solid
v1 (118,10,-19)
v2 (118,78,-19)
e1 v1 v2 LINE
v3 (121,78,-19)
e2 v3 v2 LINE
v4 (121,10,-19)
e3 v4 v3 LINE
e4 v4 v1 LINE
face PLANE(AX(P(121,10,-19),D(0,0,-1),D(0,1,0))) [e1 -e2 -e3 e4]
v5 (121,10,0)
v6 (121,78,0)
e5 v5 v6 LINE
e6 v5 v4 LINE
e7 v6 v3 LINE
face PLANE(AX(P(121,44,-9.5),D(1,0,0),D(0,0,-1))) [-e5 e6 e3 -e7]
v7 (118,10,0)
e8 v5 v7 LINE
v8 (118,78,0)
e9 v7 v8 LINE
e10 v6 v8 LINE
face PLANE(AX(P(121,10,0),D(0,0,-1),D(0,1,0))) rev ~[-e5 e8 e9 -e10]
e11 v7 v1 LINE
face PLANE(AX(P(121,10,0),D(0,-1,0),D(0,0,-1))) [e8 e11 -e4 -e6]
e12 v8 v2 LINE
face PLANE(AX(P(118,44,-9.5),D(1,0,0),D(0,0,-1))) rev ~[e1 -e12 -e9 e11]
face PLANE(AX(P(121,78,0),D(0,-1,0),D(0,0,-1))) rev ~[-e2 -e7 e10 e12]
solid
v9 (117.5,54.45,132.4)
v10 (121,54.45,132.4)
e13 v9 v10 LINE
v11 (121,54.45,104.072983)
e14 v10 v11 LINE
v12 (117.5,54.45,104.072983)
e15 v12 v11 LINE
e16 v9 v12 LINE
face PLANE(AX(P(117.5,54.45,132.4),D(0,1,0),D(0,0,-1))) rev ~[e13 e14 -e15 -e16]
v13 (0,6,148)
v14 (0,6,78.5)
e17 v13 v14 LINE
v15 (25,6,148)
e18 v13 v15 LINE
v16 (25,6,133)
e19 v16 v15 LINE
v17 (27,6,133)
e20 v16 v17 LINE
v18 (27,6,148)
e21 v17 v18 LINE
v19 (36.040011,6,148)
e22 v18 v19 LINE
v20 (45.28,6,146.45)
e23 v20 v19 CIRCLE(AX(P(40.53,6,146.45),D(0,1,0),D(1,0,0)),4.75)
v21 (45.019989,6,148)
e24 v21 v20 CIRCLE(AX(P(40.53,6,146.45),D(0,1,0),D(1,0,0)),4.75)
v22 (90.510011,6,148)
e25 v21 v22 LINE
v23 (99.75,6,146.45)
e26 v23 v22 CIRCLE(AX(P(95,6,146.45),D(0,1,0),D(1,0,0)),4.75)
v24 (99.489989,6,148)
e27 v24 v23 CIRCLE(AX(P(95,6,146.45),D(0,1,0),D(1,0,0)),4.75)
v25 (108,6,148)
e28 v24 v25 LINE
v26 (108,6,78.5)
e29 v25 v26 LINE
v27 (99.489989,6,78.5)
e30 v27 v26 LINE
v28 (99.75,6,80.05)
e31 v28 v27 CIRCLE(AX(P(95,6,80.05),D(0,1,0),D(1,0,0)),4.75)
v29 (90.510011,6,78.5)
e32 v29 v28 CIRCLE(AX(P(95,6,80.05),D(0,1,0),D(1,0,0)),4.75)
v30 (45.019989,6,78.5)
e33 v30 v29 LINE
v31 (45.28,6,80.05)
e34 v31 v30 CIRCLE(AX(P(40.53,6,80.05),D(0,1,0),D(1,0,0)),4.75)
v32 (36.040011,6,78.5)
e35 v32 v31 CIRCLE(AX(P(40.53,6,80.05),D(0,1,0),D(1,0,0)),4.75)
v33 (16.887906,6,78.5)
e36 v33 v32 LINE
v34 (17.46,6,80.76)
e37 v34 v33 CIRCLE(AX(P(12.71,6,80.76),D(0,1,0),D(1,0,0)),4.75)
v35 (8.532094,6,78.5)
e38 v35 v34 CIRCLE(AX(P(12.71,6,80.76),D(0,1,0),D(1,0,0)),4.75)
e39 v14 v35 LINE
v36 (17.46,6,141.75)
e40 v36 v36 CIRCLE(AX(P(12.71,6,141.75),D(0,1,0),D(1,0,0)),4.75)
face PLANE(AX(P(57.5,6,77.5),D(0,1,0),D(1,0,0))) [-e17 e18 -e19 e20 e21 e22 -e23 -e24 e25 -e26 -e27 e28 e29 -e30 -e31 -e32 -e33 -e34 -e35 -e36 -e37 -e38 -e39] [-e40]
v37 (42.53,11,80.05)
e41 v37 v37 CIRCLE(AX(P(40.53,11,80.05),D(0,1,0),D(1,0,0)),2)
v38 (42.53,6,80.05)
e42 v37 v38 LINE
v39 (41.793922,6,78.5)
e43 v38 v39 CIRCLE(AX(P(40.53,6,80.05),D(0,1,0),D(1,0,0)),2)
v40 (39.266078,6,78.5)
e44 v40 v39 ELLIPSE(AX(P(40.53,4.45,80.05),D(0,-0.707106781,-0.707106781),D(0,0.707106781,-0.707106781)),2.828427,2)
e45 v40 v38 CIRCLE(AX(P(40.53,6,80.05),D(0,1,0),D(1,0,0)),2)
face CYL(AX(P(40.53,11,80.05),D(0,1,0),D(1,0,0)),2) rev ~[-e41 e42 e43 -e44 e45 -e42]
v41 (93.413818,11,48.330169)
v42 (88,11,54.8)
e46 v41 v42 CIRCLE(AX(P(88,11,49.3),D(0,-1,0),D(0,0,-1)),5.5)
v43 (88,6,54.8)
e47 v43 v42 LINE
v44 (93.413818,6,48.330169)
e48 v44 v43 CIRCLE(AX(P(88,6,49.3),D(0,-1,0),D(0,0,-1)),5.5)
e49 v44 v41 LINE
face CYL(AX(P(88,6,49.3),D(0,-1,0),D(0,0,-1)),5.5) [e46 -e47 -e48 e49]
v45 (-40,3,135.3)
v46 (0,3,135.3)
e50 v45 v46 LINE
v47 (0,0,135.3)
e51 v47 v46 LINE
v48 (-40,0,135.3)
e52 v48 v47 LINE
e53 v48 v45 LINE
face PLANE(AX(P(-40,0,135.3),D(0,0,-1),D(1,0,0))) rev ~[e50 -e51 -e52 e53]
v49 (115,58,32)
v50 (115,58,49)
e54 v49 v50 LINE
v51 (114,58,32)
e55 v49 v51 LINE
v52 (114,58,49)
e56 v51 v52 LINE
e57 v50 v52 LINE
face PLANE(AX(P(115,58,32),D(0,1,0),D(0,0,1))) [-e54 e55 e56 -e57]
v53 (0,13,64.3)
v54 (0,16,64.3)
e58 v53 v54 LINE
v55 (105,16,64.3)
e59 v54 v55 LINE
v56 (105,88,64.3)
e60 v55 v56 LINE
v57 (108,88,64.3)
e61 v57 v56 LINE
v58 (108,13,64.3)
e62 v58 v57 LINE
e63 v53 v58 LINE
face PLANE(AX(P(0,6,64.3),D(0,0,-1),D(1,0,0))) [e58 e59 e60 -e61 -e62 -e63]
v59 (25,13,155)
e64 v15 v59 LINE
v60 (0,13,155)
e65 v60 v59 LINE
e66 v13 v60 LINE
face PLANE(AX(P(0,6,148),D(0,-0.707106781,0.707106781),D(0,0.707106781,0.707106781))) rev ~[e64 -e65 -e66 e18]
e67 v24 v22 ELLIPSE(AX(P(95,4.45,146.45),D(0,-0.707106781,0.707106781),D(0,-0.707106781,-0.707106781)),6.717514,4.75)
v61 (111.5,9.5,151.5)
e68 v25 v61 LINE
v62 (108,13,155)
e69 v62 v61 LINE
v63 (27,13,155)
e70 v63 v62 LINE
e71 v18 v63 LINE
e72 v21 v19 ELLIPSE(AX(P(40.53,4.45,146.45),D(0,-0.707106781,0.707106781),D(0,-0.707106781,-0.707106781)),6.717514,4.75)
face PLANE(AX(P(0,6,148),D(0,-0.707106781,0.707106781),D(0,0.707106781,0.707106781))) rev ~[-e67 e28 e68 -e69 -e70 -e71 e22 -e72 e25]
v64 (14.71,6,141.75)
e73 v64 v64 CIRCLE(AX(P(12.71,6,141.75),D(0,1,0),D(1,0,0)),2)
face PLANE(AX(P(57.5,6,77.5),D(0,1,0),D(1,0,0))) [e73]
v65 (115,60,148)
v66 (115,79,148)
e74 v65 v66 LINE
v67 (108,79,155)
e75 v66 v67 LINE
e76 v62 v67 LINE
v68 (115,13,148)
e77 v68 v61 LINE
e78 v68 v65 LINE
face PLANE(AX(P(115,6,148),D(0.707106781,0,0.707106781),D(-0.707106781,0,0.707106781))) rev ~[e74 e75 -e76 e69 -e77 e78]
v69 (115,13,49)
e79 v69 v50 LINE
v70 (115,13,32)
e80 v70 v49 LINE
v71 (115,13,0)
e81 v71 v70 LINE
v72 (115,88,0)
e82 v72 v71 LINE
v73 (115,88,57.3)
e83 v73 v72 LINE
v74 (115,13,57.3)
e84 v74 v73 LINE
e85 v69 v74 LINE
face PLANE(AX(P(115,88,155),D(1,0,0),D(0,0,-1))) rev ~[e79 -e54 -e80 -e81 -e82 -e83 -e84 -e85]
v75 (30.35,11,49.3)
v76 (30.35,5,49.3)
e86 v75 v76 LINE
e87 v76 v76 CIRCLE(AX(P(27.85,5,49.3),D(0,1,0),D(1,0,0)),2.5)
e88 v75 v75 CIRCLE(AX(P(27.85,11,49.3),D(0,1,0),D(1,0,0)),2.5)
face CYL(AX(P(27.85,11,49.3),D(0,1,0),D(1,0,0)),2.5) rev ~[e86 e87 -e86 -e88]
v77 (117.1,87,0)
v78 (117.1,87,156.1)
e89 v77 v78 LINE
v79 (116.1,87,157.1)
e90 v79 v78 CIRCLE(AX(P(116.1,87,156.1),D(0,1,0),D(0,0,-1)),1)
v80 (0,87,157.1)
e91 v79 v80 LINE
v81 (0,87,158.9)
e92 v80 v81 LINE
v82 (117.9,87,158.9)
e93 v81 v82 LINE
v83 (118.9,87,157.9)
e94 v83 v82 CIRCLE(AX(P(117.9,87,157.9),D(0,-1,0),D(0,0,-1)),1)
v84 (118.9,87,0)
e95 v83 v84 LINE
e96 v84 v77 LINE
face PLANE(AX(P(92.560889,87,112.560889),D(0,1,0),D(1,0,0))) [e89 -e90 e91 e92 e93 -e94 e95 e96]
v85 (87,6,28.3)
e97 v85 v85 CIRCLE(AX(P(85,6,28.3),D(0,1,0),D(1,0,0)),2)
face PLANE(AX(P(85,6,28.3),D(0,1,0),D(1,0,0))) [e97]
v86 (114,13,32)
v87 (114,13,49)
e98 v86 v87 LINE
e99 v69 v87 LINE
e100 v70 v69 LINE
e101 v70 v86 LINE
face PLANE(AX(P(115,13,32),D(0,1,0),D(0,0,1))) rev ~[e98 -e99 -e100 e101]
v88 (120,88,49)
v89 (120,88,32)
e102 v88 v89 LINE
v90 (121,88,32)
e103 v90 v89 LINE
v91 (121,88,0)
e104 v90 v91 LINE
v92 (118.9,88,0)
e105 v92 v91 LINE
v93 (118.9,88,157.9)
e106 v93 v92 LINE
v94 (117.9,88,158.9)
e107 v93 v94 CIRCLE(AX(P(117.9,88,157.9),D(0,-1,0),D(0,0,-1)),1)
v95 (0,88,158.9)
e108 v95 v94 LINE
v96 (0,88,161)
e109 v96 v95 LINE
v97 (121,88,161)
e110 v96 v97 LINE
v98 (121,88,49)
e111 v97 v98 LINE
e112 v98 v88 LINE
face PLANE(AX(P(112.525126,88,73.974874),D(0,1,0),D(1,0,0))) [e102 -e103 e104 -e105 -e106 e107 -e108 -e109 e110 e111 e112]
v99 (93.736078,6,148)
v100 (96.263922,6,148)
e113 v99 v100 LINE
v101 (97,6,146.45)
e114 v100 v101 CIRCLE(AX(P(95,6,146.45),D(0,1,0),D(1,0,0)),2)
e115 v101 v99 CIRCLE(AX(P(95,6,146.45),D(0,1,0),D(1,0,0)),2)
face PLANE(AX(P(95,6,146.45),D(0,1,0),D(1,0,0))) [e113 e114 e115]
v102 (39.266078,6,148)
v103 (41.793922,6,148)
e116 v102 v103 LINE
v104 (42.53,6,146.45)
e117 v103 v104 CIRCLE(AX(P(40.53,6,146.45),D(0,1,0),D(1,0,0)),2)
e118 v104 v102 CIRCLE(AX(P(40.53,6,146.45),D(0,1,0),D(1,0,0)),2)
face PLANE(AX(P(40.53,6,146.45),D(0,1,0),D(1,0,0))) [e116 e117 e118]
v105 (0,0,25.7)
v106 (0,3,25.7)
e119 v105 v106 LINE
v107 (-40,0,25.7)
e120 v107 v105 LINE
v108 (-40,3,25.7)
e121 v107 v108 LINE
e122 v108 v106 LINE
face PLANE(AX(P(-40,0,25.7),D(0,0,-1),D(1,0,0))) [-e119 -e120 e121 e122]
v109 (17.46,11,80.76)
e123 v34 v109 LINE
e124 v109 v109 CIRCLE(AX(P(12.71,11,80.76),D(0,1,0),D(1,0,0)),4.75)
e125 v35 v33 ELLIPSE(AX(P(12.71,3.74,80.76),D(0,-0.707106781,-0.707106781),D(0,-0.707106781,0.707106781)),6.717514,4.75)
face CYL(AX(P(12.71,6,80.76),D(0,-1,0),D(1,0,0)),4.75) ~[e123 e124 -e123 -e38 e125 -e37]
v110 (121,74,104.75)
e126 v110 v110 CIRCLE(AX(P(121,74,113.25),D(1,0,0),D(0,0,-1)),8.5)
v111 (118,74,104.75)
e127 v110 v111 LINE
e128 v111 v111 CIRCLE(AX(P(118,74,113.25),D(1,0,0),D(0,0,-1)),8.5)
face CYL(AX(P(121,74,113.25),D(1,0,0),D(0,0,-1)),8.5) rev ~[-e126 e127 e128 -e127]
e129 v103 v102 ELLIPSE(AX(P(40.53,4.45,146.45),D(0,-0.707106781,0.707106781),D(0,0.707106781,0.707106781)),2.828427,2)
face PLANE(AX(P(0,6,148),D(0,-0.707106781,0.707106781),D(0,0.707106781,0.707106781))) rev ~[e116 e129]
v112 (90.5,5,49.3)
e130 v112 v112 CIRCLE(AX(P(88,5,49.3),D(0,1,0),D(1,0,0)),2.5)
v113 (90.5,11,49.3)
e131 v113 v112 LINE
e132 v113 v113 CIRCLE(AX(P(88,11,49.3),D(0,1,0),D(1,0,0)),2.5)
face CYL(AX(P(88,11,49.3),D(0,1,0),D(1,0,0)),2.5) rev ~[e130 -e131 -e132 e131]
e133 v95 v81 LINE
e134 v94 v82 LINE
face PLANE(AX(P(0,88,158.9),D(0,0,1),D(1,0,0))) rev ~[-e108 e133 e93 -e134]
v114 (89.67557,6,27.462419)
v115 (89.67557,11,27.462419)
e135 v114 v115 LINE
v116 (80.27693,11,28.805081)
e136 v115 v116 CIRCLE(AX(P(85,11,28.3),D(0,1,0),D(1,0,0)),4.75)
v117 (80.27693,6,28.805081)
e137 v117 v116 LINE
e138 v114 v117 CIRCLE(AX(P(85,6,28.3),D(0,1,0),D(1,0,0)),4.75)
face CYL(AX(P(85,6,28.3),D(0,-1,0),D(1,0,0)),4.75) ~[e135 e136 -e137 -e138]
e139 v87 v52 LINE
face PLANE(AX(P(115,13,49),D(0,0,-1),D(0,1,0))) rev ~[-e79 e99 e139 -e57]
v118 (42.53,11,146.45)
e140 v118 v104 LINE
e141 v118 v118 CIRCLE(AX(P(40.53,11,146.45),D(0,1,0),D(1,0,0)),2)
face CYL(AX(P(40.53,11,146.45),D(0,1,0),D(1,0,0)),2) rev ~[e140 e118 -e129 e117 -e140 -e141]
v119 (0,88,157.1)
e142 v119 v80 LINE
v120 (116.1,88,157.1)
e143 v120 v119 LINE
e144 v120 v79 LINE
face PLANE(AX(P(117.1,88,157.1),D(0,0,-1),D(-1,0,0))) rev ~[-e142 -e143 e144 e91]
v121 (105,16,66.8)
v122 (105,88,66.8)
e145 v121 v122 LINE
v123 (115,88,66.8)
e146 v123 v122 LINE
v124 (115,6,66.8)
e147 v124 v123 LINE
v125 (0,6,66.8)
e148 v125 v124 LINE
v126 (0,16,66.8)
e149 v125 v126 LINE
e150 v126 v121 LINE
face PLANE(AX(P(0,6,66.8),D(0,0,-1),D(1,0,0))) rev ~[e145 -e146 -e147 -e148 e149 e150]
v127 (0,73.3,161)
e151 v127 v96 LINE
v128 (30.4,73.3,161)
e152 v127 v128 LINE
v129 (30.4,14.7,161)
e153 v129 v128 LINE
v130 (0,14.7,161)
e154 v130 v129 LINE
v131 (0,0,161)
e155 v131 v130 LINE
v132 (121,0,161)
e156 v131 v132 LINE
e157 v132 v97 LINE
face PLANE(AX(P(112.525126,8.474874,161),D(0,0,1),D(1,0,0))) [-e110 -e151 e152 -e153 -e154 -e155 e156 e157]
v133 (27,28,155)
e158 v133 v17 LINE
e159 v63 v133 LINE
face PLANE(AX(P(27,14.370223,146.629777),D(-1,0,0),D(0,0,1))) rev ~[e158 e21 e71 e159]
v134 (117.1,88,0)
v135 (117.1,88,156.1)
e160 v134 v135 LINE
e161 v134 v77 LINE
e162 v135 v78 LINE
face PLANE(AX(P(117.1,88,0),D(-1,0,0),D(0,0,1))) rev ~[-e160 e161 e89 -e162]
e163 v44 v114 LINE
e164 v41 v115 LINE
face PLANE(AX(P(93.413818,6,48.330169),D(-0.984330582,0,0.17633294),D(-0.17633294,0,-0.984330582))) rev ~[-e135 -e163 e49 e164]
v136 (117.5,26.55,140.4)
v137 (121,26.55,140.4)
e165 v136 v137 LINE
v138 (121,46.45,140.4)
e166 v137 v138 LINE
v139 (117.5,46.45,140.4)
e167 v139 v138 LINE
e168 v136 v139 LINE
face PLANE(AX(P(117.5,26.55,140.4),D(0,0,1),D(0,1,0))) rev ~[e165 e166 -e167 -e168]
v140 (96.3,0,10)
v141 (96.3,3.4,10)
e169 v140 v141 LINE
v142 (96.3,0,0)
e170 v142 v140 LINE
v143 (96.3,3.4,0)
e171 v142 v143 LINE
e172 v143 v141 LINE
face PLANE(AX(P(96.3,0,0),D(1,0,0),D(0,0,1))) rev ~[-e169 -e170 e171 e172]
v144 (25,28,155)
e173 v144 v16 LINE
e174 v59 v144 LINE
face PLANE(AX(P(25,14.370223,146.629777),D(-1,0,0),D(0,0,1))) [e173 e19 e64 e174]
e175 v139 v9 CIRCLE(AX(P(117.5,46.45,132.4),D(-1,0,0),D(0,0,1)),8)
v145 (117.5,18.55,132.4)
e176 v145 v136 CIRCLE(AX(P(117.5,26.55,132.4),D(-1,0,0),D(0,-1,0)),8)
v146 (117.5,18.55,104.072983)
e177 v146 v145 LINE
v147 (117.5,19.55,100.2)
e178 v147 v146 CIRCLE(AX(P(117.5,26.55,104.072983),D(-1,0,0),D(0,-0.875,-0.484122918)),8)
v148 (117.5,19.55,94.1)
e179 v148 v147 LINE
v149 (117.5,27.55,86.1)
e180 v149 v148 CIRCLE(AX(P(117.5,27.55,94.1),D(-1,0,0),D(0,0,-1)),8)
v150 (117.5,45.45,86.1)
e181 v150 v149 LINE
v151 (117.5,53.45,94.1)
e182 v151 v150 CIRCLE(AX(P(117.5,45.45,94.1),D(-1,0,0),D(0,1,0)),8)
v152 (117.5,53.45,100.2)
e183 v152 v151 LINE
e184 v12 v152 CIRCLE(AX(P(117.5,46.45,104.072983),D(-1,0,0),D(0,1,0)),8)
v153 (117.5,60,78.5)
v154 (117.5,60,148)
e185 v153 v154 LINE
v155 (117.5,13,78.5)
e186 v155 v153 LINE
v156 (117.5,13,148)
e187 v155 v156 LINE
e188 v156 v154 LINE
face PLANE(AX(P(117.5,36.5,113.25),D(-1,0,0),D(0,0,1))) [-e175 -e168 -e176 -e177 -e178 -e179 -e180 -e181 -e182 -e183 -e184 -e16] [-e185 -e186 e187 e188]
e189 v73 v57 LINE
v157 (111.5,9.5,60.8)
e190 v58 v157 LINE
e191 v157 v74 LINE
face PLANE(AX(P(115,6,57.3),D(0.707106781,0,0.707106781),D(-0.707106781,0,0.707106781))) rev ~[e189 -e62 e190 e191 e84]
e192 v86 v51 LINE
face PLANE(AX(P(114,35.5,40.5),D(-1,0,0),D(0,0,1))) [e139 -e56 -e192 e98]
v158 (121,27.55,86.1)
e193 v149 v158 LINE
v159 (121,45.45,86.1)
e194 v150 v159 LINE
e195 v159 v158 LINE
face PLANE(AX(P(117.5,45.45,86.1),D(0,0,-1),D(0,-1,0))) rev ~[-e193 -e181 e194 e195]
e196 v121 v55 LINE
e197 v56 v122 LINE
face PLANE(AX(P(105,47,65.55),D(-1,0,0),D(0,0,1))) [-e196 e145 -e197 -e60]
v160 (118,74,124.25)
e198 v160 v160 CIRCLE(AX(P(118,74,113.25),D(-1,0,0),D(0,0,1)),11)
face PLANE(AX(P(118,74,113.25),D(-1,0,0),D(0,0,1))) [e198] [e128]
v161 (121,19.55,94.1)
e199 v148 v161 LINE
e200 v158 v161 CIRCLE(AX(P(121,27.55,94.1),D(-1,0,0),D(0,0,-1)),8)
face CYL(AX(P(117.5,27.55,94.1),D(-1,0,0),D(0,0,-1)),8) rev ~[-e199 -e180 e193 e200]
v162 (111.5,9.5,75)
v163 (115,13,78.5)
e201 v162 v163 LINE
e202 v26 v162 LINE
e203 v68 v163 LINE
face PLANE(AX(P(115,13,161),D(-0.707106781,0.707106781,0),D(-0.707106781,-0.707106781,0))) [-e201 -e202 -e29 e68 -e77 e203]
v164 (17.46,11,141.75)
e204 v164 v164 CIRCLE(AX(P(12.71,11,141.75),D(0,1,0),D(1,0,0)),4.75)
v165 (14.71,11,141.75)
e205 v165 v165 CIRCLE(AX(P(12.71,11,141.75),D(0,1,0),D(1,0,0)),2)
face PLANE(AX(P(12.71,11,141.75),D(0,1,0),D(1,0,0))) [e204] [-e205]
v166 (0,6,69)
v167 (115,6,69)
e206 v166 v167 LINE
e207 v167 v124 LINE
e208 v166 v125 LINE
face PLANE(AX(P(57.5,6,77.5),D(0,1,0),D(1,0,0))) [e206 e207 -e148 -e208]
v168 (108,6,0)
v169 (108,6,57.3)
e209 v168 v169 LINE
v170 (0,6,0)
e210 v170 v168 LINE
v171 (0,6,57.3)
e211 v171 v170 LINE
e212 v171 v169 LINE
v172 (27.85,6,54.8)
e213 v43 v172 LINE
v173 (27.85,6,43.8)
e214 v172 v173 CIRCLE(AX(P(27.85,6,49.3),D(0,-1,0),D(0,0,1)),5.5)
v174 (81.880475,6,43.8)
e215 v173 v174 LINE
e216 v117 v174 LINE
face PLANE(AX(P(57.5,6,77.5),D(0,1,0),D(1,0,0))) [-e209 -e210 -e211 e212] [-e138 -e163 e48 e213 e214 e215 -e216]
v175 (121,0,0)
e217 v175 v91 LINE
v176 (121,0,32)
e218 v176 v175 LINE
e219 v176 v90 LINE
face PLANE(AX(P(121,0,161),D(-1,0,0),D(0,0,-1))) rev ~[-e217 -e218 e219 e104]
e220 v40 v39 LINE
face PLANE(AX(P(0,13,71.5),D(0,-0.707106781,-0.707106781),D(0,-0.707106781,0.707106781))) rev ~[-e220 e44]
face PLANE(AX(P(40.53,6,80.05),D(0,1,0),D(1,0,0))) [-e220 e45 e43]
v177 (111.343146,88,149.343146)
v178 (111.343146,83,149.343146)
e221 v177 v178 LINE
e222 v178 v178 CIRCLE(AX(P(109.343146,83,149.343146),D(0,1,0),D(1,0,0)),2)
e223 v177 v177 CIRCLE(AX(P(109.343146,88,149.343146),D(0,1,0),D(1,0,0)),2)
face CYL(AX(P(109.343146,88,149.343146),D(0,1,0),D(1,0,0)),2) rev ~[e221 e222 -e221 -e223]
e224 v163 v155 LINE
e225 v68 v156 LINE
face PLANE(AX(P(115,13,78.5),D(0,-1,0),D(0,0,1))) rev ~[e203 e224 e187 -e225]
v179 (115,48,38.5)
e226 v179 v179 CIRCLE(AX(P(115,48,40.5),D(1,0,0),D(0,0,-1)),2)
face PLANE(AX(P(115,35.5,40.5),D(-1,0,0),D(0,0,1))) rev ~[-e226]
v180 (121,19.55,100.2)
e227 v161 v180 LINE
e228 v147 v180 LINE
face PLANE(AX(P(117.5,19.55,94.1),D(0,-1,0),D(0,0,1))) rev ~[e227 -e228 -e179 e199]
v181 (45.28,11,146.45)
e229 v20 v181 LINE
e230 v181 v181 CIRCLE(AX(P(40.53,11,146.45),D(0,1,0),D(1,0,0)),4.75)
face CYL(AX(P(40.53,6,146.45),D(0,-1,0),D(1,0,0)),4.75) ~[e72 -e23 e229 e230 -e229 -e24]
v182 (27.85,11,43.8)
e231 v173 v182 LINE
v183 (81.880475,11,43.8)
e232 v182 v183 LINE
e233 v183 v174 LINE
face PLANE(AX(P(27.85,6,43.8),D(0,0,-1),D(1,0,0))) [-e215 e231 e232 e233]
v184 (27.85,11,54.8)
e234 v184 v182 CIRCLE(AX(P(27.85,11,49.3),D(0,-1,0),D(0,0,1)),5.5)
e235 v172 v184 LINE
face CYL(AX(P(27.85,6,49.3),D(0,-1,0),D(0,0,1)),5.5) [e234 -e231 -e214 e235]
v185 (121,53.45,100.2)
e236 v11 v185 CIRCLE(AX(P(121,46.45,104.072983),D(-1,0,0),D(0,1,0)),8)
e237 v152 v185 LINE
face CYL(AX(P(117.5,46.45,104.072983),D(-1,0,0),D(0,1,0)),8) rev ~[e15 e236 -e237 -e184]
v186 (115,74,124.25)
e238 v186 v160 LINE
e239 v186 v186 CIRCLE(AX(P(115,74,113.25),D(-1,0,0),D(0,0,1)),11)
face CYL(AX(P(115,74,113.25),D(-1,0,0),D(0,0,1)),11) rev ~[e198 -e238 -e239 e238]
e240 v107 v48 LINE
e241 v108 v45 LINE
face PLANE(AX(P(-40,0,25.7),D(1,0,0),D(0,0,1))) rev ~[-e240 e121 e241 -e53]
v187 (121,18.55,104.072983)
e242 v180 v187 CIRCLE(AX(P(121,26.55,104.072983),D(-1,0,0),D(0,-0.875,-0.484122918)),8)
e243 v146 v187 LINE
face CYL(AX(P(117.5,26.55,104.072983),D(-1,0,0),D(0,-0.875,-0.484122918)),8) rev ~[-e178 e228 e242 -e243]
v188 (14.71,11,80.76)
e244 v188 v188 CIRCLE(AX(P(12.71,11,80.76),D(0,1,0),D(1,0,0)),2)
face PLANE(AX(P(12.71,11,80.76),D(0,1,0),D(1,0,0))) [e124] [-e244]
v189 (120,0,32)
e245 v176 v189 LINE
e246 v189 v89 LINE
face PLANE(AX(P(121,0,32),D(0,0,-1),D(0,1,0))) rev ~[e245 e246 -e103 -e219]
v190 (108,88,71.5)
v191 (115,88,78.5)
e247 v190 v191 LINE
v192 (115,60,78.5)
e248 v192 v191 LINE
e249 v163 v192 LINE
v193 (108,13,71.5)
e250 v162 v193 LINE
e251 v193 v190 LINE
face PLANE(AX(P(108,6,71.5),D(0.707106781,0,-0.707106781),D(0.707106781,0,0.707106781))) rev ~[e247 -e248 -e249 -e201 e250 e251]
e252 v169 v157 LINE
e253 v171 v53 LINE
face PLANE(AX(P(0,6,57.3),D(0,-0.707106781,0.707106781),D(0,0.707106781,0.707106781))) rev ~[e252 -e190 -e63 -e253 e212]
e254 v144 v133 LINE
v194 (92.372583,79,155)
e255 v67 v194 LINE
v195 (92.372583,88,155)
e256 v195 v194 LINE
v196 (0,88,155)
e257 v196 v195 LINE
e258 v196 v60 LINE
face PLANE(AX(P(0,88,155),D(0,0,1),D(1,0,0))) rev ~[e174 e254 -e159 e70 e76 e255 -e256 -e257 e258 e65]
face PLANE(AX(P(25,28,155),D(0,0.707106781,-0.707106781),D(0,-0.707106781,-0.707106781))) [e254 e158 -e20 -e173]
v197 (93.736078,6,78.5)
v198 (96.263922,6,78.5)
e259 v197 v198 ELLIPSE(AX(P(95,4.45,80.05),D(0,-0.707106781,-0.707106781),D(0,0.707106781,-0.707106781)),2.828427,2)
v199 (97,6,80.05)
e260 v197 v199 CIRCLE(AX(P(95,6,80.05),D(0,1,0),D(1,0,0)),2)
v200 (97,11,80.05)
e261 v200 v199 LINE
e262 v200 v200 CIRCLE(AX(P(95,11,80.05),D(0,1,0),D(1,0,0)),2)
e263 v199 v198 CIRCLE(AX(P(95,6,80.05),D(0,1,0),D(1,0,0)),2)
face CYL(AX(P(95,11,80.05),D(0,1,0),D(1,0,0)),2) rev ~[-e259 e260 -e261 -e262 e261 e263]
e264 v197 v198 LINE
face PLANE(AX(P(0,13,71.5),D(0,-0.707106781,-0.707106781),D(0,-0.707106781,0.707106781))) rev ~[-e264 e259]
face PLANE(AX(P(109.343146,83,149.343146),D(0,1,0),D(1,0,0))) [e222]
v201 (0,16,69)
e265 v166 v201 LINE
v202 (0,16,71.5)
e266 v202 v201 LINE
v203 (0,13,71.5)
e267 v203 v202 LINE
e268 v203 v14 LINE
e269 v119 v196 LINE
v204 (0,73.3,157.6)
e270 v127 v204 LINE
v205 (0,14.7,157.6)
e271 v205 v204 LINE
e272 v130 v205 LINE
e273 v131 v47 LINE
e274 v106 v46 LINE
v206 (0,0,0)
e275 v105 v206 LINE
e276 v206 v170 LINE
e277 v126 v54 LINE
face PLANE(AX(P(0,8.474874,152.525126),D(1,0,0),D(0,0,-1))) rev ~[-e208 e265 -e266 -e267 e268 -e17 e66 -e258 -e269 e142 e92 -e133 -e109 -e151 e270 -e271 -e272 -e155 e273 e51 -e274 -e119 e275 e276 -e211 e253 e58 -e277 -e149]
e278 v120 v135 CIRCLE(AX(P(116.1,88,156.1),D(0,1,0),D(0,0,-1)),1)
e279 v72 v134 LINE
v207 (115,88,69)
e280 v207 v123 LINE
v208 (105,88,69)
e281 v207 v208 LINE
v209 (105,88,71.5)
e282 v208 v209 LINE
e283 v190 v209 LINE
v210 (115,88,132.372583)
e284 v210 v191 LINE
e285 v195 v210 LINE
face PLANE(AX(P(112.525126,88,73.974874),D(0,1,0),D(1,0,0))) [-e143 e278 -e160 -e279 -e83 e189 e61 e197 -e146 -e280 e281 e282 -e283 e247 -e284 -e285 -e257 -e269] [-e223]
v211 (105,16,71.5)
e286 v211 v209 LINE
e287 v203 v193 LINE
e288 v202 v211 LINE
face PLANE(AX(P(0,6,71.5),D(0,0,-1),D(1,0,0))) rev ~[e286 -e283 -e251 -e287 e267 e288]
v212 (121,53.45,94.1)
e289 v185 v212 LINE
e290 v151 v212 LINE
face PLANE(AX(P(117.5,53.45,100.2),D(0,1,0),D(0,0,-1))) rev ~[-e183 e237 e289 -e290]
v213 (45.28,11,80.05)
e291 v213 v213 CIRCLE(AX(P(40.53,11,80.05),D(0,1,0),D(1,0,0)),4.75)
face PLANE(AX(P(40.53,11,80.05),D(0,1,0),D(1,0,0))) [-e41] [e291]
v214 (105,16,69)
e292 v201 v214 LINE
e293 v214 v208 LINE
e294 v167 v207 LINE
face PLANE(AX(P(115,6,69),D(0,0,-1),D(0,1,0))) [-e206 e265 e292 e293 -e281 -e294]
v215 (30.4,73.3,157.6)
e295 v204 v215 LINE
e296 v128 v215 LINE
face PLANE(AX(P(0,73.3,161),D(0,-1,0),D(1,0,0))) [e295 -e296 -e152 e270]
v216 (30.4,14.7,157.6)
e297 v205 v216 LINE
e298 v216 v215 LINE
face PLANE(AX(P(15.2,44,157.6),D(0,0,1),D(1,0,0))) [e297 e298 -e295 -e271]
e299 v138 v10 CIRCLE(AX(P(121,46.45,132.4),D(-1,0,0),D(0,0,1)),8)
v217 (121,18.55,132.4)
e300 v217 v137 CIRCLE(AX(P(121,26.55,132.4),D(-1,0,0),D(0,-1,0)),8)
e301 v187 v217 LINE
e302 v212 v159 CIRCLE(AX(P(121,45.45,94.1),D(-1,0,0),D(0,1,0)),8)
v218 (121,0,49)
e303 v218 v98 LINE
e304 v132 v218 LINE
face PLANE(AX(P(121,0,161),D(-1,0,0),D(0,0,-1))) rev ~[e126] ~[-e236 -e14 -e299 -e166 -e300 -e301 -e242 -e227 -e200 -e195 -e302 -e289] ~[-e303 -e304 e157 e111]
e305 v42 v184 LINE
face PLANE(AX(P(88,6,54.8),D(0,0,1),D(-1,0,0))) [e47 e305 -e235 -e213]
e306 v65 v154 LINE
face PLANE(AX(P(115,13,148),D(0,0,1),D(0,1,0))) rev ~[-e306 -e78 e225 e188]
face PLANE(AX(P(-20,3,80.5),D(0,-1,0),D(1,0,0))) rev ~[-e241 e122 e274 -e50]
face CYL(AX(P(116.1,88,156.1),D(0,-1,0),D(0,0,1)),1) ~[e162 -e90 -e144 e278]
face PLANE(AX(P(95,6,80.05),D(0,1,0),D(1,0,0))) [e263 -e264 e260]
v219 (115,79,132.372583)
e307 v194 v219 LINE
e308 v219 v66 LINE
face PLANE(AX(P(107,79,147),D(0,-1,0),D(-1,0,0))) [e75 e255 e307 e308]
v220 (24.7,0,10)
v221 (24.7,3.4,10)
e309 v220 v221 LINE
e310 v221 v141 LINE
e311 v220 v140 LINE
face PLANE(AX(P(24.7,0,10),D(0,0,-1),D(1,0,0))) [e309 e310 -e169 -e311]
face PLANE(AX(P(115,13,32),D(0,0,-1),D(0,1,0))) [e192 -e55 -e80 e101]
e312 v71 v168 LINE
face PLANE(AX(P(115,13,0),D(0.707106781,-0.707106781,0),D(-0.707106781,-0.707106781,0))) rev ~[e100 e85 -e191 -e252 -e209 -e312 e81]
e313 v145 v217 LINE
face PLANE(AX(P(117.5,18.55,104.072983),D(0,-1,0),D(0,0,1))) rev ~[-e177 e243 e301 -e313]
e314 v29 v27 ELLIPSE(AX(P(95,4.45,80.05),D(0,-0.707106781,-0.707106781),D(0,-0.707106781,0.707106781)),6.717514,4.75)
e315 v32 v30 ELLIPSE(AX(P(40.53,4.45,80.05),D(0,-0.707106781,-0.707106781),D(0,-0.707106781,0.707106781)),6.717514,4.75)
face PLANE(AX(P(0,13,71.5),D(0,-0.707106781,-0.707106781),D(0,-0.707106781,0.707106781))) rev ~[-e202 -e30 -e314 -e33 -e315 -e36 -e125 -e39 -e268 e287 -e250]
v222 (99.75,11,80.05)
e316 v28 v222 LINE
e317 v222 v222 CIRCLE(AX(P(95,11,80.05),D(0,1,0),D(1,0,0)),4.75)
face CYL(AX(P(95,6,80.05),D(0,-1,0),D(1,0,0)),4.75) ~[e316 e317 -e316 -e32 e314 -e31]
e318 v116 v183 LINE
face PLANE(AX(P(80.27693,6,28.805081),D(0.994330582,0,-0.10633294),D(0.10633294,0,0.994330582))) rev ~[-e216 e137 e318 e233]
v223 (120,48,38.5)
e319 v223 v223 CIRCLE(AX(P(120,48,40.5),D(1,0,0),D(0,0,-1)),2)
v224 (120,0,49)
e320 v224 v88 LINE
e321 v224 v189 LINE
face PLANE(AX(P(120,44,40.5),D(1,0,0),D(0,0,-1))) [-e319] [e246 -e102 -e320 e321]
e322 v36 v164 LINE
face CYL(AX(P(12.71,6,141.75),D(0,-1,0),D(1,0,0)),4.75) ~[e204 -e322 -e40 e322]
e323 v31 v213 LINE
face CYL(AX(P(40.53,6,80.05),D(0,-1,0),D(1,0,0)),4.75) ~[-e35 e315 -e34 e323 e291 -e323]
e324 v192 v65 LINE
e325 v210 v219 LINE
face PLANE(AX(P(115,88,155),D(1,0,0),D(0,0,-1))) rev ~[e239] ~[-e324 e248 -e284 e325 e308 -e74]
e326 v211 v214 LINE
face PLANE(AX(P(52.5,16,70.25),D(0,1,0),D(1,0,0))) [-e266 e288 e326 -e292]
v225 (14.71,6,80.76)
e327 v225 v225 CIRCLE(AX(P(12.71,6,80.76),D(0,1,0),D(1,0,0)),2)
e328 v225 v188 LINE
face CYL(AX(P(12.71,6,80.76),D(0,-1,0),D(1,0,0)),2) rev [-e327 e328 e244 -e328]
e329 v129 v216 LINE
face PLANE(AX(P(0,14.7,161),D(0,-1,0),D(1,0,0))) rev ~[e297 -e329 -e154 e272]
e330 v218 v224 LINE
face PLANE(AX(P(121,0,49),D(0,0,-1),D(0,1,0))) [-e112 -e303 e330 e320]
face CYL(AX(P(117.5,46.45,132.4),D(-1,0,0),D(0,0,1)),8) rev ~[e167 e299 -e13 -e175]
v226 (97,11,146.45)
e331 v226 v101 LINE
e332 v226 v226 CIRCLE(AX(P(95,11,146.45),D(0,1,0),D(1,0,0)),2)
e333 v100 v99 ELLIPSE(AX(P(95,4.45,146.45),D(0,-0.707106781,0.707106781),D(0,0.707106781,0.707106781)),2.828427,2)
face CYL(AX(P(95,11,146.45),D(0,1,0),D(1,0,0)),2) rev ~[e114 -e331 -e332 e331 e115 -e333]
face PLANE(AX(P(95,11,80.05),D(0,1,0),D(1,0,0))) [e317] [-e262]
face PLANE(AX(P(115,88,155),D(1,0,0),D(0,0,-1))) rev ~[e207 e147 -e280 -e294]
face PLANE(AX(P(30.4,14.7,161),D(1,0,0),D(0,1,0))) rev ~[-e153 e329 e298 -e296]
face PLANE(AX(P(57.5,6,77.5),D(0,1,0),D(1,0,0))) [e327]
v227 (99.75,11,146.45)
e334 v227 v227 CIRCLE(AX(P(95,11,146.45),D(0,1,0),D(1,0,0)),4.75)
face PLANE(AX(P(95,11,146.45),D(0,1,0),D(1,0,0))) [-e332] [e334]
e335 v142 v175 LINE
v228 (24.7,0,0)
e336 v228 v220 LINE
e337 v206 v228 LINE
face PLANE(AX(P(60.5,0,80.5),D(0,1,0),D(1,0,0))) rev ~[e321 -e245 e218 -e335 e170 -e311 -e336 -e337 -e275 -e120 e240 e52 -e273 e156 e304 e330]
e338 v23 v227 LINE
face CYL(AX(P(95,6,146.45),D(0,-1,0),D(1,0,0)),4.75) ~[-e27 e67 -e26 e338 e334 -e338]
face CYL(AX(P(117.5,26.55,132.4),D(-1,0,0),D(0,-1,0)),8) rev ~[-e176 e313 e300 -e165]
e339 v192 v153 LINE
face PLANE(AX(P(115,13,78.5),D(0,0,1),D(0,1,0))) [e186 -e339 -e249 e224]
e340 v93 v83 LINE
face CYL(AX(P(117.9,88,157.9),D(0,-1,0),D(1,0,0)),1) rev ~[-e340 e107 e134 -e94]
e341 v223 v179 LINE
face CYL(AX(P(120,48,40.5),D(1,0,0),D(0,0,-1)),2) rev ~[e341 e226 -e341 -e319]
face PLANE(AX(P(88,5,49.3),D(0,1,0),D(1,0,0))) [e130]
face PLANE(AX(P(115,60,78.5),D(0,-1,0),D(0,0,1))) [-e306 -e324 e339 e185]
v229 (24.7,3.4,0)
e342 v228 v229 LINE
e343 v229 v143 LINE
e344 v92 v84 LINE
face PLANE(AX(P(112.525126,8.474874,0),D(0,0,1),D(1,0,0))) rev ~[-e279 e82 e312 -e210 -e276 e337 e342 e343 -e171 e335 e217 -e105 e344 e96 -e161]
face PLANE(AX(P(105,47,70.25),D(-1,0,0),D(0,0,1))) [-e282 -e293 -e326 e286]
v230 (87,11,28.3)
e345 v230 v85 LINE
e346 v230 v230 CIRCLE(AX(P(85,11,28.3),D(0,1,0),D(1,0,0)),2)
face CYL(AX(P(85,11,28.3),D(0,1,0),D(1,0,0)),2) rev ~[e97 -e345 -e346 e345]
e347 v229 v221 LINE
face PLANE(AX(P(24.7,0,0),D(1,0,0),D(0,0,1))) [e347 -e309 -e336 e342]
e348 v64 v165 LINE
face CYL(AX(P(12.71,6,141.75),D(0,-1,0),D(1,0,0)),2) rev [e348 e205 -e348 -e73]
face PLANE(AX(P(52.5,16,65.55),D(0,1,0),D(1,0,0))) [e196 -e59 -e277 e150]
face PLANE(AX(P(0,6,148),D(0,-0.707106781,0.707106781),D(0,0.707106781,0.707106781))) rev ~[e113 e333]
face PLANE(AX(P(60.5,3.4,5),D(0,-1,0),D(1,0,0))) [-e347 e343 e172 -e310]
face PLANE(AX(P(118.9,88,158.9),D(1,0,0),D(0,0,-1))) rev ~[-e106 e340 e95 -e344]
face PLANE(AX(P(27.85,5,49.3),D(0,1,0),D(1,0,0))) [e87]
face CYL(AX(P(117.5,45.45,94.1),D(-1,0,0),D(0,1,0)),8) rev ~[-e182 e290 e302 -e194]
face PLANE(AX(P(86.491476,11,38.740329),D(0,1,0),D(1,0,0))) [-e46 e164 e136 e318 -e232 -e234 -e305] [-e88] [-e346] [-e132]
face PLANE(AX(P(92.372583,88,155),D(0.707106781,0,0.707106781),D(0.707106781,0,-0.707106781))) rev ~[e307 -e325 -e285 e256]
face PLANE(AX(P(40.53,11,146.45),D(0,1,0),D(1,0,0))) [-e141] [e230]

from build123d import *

# Parameters (mm, degrees)
SKETCH1_W            = 121
SKETCH1_H            = 161
BOSS_EXTRUDE1_DEPTH  = 88
SKETCH2_W            = 115
SKETCH2_H            = 155
CUT_EXTRUDE1_DEPTH   = 82
SKETCH3_W            = 71.6
SKETCH3_H            = 10
CUT_EXTRUDE2_DEPTH   = 3.4
SKETCH5_W            = 40
SKETCH5_H            = 109.6
BOSS_EXTRUDE2_DEPTH  = 3
SKETCH6_W            = 30.4
SKETCH6_H            = 58.6
CUT_EXTRUDE3_DEPTH   = 3.4
SKETCH7_W            = 19
SKETCH7_H            = 68
BOSS_EXTRUDE3_DEPTH  = 3
SKETCH8_R            = 8.5
CUT_EXTRUDE4_DEPTH   = 162
SKETCH9_W            = 2.5
SKETCH9_H            = 82
BOSS_EXTRUDE4_DEPTH  = 10
SKETCH10_W           = 105
SKETCH10_H           = 2.5
BOSS_EXTRUDE5_DEPTH  = 10
BOSS_EXTRUDE6_DEPTH  = 9
SKETCH12_R           = 2
CUT_EXTRUDE6_DEPTH   = 5
BOSS_EXTRUDE7_DEPTH  = 73
SKETCH14_R           = 4.75
BOSS_EXTRUDE8_DEPTH  = 5
SKETCH15_R           = 2
CUT_EXTRUDE7_DEPTH   = 5
SKETCH16_R           = 4.75
BOSS_EXTRUDE9_DEPTH  = 5
SKETCH17_R           = 2
CUT_EXTRUDE8_DEPTH   = 5
SKETCH18_R           = 2.5
CUT_EXTRUDE9_DEPTH   = 6
BOSS_EXTRUDE10_DEPTH = 82
SKETCH20_R           = 4.75
SKETCH20_R_2         = 2
BOSS_EXTRUDE11_DEPTH = 5
BOSS_EXTRUDE12_REACH = 123
BOSS_EXTRUDE13_REACH = 123
BOSS_EXTRUDE14_REACH = 163
BOSS_EXTRUDE15_REACH = 182
BOSS_EXTRUDE16_REACH = 123
BOSS_EXTRUDE17_DEPTH = 5
CUT_EXTRUDE10_DEPTH  = 1
SKETCH29_R           = 11
CUT_EXTRUDE11_DEPTH  = 3
SKETCH31_W           = 69.5
SKETCH31_H           = 47
CUT_EXTRUDE12_DEPTH  = 2.5
CUT_EXTRUDE13_DEPTH  = 3.5
SKETCH33_W           = 17
SKETCH33_H           = 88
CUT_EXTRUDE14_DEPTH  = 1
BOSS_EXTRUDE19_DEPTH = 2
FILLET1_R            = 1
FILLET2_R            = 1
SKETCH35_R           = 2
CUT_EXTRUDE15_DEPTH  = 5
SKETCH36_W           = 17
SKETCH36_H           = 45
BOSS_EXTRUDE20_DEPTH = 1


with BuildPart() as part:
    # Sketch1 → Boss-Extrude1 (new body)
    with BuildSketch(Plane(origin=(0, 0, 0), x_dir=(1, 0, 0), z_dir=(0, 1, 0))):
        with Locations((60.5, -80.5)):
            Rectangle(SKETCH1_W, SKETCH1_H)
    extrude(amount=BOSS_EXTRUDE1_DEPTH)

    # Sketch2 → Cut-Extrude1 (cut)
    with BuildSketch(Plane(origin=(0, 88, 0), x_dir=(1, 0, 0), z_dir=(0, 1, 0))):
        with Locations((57.5, -77.5)):
            Rectangle(SKETCH2_W, SKETCH2_H)
    extrude(amount=-CUT_EXTRUDE1_DEPTH, mode=Mode.SUBTRACT)

    # Sketch3 → Cut-Extrude2 (cut)
    with BuildSketch(Plane.XZ):
        with Locations((60.5, 5)):
            Rectangle(SKETCH3_W, SKETCH3_H)
    extrude(amount=-CUT_EXTRUDE2_DEPTH, mode=Mode.SUBTRACT)

    # Sketch5 → Boss-Extrude2 (add)
    with BuildSketch(Plane.XZ):
        with Locations((-20, 80.5)):
            Rectangle(SKETCH5_W, SKETCH5_H)
    extrude(amount=-BOSS_EXTRUDE2_DEPTH)

    # Sketch6 → Cut-Extrude3 (cut)
    with BuildSketch(Plane.XY.offset(161)):
        with Locations((15.2, 44)):
            Rectangle(SKETCH6_W, SKETCH6_H)
    extrude(amount=-CUT_EXTRUDE3_DEPTH, mode=Mode.SUBTRACT)

    # Sketch8 → Cut-Extrude4 (cut, through all)
    with BuildSketch(Plane(origin=(121, 0, 0), x_dir=(0, 0, -1), z_dir=(1, 0, 0))):
        with Locations((-113.25, 74)):
            Circle(SKETCH8_R)
    extrude(amount=-CUT_EXTRUDE4_DEPTH, mode=Mode.SUBTRACT)

    # Sketch9 → Boss-Extrude4 (add)
    with BuildSketch(Plane.ZY.offset(-115)):
        with Locations((70.25, 47)):
            Rectangle(SKETCH9_W, SKETCH9_H)
        with Locations((65.55, 47)):
            Rectangle(SKETCH9_W, SKETCH9_H)
    extrude(amount=BOSS_EXTRUDE4_DEPTH)

    # Sketch10 → Boss-Extrude5 (add)
    with BuildSketch(Plane(origin=(0, 6, 0), x_dir=(1, 0, 0), z_dir=(0, 1, 0))):
        with Locations((52.5, -65.55)):
            Rectangle(SKETCH10_W, SKETCH10_H)
        with Locations((52.5, -70.25)):
            Rectangle(SKETCH10_W, SKETCH10_H)
    extrude(amount=BOSS_EXTRUDE5_DEPTH)

    # Sketch11 → Boss-Extrude6 (add)
    with BuildSketch(Plane(origin=(0, 88, 0), x_dir=(1, 0, 0), z_dir=(0, 1, 0))):
        Polygon((115, -155), (92.372583002, -155), (115, -132.372583002), align=None)
    extrude(amount=-BOSS_EXTRUDE6_DEPTH)

    # Sketch12 → Cut-Extrude6 (cut)
    with BuildSketch(Plane(origin=(0, 88, 0), x_dir=(1, 0, 0), z_dir=(0, 1, 0))):
        with Locations((109.343145751, -149.343145751)):
            Circle(SKETCH12_R)
    extrude(amount=-CUT_EXTRUDE6_DEPTH, mode=Mode.SUBTRACT)

    # Sketch13 → Boss-Extrude7 (add)
    with BuildSketch(Plane(origin=(0, 6, 0), x_dir=(1, 0, 0), z_dir=(0, 1, 0))):
        Polygon((115, -155), (115, -148), (108, -155), align=None)
    extrude(amount=BOSS_EXTRUDE7_DEPTH)

    # Sketch14 → Boss-Extrude8 (add)
    with BuildSketch(Plane(origin=(0, 6, 0), x_dir=(1, 0, 0), z_dir=(0, 1, 0))):
        with Locations((40.53, -80.05)):
            Circle(SKETCH14_R)
        with Locations((95, -80.05)):
            Circle(SKETCH14_R)
        with Locations((40.53, -146.45)):
            Circle(SKETCH14_R)
        with Locations((95, -146.45)):
            Circle(SKETCH14_R)
    extrude(amount=BOSS_EXTRUDE8_DEPTH)

    # Sketch15 → Cut-Extrude7 (cut)
    with BuildSketch(Plane(origin=(0, 11, 0), x_dir=(1, 0, 0), z_dir=(0, 1, 0))):
        with Locations((40.53, -80.05)):
            Circle(SKETCH15_R)
        with Locations((95, -80.05)):
            Circle(SKETCH15_R)
        with Locations((40.53, -146.45)):
            Circle(SKETCH15_R)
        with Locations((95, -146.45)):
            Circle(SKETCH15_R)
    extrude(amount=-CUT_EXTRUDE7_DEPTH, mode=Mode.SUBTRACT)

    # Sketch16 → Boss-Extrude9 (add)
    with BuildSketch(Plane(origin=(0, 6, 0), x_dir=(1, 0, 0), z_dir=(0, 1, 0))):
        with Locations((85, -28.3)):
            Circle(SKETCH16_R)
        with BuildLine():
            Line((27.85, -43.8), (88, -43.8))
            ThreePointArc((88, -43.8), (93.5, -49.3), (88, -54.8))
            Line((88, -54.8), (27.85, -54.8))
            ThreePointArc((27.85, -54.8), (22.35, -49.3), (27.85, -43.8))
        make_face()
    extrude(amount=BOSS_EXTRUDE9_DEPTH)

    # Sketch17 → Cut-Extrude8 (cut)
    with BuildSketch(Plane(origin=(0, 11, 0), x_dir=(1, 0, 0), z_dir=(0, 1, 0))):
        with Locations((85, -28.3)):
            Circle(SKETCH17_R)
    extrude(amount=-CUT_EXTRUDE8_DEPTH, mode=Mode.SUBTRACT)

    # Sketch18 → Cut-Extrude9 (cut)
    with BuildSketch(Plane(origin=(0, 11, 0), x_dir=(1, 0, 0), z_dir=(0, 1, 0))):
        with Locations((88, -49.3)):
            Circle(SKETCH18_R)
        with Locations((27.85, -49.3)):
            Circle(SKETCH18_R)
    extrude(amount=-CUT_EXTRUDE9_DEPTH, mode=Mode.SUBTRACT)

    # Sketch19 → Boss-Extrude10 (add)
    with BuildSketch(Plane(origin=(0, 6, 0), x_dir=(1, 0, 0), z_dir=(0, 1, 0))):
        Polygon((115, -71.5), (108, -71.5), (115, -78.5), align=None)
        Polygon((115, -64.3), (115, -57.3), (108, -64.3), align=None)
    extrude(amount=BOSS_EXTRUDE10_DEPTH)

    # Sketch20 → Boss-Extrude11 (add)
    with BuildSketch(Plane(origin=(0, 6, 0), x_dir=(1, 0, 0), z_dir=(0, 1, 0))):
        with Locations((12.71, -80.76)):
            Circle(SKETCH20_R)
        with Locations((12.71, -80.76)):
            Circle(SKETCH20_R_2, mode=Mode.SUBTRACT)
        with Locations((12.71, -141.75)):
            Circle(SKETCH20_R)
        with Locations((12.71, -141.75)):
            Circle(SKETCH20_R_2, mode=Mode.SUBTRACT)
    extrude(amount=BOSS_EXTRUDE11_DEPTH)

    # Boss-Extrude12: up to this face of the body (flat: up to its plane)
    boss_extrude12_end = Plane(part.part.faces().sort_by_distance((111.5, 47, 75))[0])
    # Sketch21 → Boss-Extrude12 (add, up to the picked face)
    with BuildSketch(Plane.ZY, mode=Mode.PRIVATE) as boss_extrude12_sk1:
        Polygon((71.5, 6), (71.5, 13), (78.5, 6), align=None)
    boss_extrude12_tool1 = split(extrude(boss_extrude12_sk1.sketch, amount=-BOSS_EXTRUDE12_REACH, mode=Mode.PRIVATE), bisect_by=boss_extrude12_end, keep=Keep.BOTH, mode=Mode.PRIVATE)
    add(boss_extrude12_tool1.solids().sort_by_distance((0, 8.333333, 73.833333))[0])

    # Boss-Extrude13: up to this face of the body (flat: up to its plane)
    boss_extrude13_end = Plane(part.part.faces().sort_by_distance((111.5, 47, 60.8))[0])
    # Sketch22 → Boss-Extrude13 (add, up to the picked face)
    with BuildSketch(Plane.ZY, mode=Mode.PRIVATE) as boss_extrude13_sk1:
        Polygon((57.3, 6), (64.3, 13), (64.3, 6), align=None)
    boss_extrude13_tool1 = split(extrude(boss_extrude13_sk1.sketch, amount=-BOSS_EXTRUDE13_REACH, mode=Mode.PRIVATE), bisect_by=boss_extrude13_end, keep=Keep.BOTH, mode=Mode.PRIVATE)
    add(boss_extrude13_tool1.solids().sort_by_distance((0, 8.333333, 61.966667))[0])

    # Boss-Extrude14: up to this face of the body (flat: up to its plane)
    boss_extrude14_end = Plane(part.part.faces().sort_by_distance((55.768310912, 9.463378176, 60.763378176))[0])
    # Sketch23 → Boss-Extrude14 (add, up to the picked face)
    with BuildSketch(Plane(origin=(0, 0, 0), x_dir=(-1, 0, 0), z_dir=(0, 0, -1)), mode=Mode.PRIVATE) as boss_extrude14_sk1:
        Polygon((-115, 6), (-115, 13), (-108, 6), align=None)
    boss_extrude14_tool1 = split(extrude(boss_extrude14_sk1.sketch, amount=-BOSS_EXTRUDE14_REACH, mode=Mode.PRIVATE), bisect_by=boss_extrude14_end, keep=Keep.BOTH, mode=Mode.PRIVATE)
    add(boss_extrude14_tool1.solids().sort_by_distance((112.666667, 8.333333, 0))[0])

    # Boss-Extrude15: up to this face of the body (flat: up to its plane)
    boss_extrude15_end = Plane(part.part.faces().sort_by_distance((111.552016985, 48.723991507, 75.052016985))[0])
    # Sketch25 → Boss-Extrude15 (add, up to the picked face)
    with BuildSketch(Plane.XY.offset(161), mode=Mode.PRIVATE) as boss_extrude15_sk1:
        Polygon((115, 6), (115, 13), (108, 6), align=None)
    boss_extrude15_tool1 = split(extrude(boss_extrude15_sk1.sketch, amount=-BOSS_EXTRUDE15_REACH, mode=Mode.PRIVATE), bisect_by=boss_extrude15_end, keep=Keep.BOTH, mode=Mode.PRIVATE)
    add(boss_extrude15_tool1.solids().sort_by_distance((112.666667, 8.333333, 161))[0])

    # Boss-Extrude16: up to this face of the body (flat: up to its plane)
    boss_extrude16_end = Plane(part.part.faces().sort_by_distance((111.441247002, 44.220623501, 151.558752998))[0])
    # Sketch26 → Boss-Extrude16 (add, up to the picked face)
    with BuildSketch(Plane.ZY, mode=Mode.PRIVATE) as boss_extrude16_sk1:
        Polygon((155, 6), (148, 6), (155, 13), align=None)
    boss_extrude16_tool1 = split(extrude(boss_extrude16_sk1.sketch, amount=-BOSS_EXTRUDE16_REACH, mode=Mode.PRIVATE), bisect_by=boss_extrude16_end, keep=Keep.BOTH, mode=Mode.PRIVATE)
    add(boss_extrude16_tool1.solids().sort_by_distance((0, 8.333333, 152.666667))[0])

    # Sketch27 → Boss-Extrude17 (add)
    with BuildSketch(Plane(origin=(0, 6, 0), x_dir=(1, 0, 0), z_dir=(0, 1, 0))):
        with BuildLine():
            Line((80.276929737, -28.805081466), (82.5311818, -49.884831171))
            ThreePointArc((82.5311818, -49.884831171), (87.222182541, -43.855277785), (93.4138182, -48.330168829))
            Line((93.4138182, -48.330168829), (89.675570263, -27.462418534))
            ThreePointArc((89.675570263, -27.462418534), (85.671751442, -33.002260095), (80.276929737, -28.805081466))
        make_face()
    extrude(amount=BOSS_EXTRUDE17_DEPTH)

    # Sketch28 → Cut-Extrude10 (cut)
    with BuildSketch(Plane(origin=(0, 88, 0), x_dir=(1, 0, 0), z_dir=(0, 1, 0))):
        Polygon((0, -157.1), (0, -158.9), (118.9, -158.9), (118.9, 0), (117.1, 0), (117.1, -157.1), align=None)
    extrude(amount=-CUT_EXTRUDE10_DEPTH, mode=Mode.SUBTRACT)

    # Sketch29 → Cut-Extrude11 (cut)
    with BuildSketch(Plane.ZY.offset(-115)):
        with Locations((113.25, 74)):
            Circle(SKETCH29_R)
    extrude(amount=-CUT_EXTRUDE11_DEPTH, mode=Mode.SUBTRACT)

    # Sketch31 → Cut-Extrude12 (cut)
    with BuildSketch(Plane.ZY.offset(-115)):
        with Locations((113.25, 36.5)):
            Rectangle(SKETCH31_W, SKETCH31_H)
    extrude(amount=-CUT_EXTRUDE12_DEPTH, mode=Mode.SUBTRACT)

    # Sketch32 → Cut-Extrude13 (cut)
    with BuildSketch(Plane.ZY.offset(-117.5)):
        with BuildLine():
            Line((86.1, 45.45), (86.1, 27.55))
            ThreePointArc((86.1, 27.55), (88.443145751, 21.893145751), (94.1, 19.55))
            Line((94.1, 19.55), (100.2, 19.55))
            ThreePointArc((100.2, 19.55), (102.072983346, 18.804033308), (104.072983346, 18.55))
            Line((104.072983346, 18.55), (132.4, 18.55))
            ThreePointArc((132.4, 18.55), (138.056854249, 20.893145751), (140.4, 26.55))
            Line((140.4, 26.55), (140.4, 46.45))
            ThreePointArc((140.4, 46.45), (138.056854249, 52.106854249), (132.4, 54.45))
            Line((132.4, 54.45), (104.072983346, 54.45))
            ThreePointArc((104.072983346, 54.45), (102.072983346, 54.195966692), (100.2, 53.45))
            Line((100.2, 53.45), (94.1, 53.45))
            ThreePointArc((94.1, 53.45), (88.443145751, 51.106854249), (86.1, 45.45))
        make_face()
    extrude(amount=-CUT_EXTRUDE13_DEPTH, mode=Mode.SUBTRACT)

    # Sketch33 → Cut-Extrude14 (cut)
    with BuildSketch(Plane(origin=(121, 0, 0), x_dir=(0, 0, -1), z_dir=(1, 0, 0))):
        with Locations((-40.5, 44)):
            Rectangle(SKETCH33_W, SKETCH33_H)
    extrude(amount=-CUT_EXTRUDE14_DEPTH, mode=Mode.SUBTRACT)

    # Sketch34 → Boss-Extrude19 (add)
    with BuildSketch(Plane.ZY.offset(-25)):
        Polygon((133, 6), (148, 6), (155, 13), (155, 28), align=None)
    extrude(amount=-BOSS_EXTRUDE19_DEPTH)

    # Fillet1
    fillet1_edges = [part.edges().sort_by_distance(p)[0] for p in [
        (117.1, 87.5, 157.1),
    ]]
    fillet(fillet1_edges, radius=FILLET1_R)

    # Fillet2
    fillet2_edges = [part.edges().sort_by_distance(p)[0] for p in [
        (118.9, 87.5, 158.9),
    ]]
    fillet(fillet2_edges, radius=FILLET2_R)

    # Sketch35 → Cut-Extrude15 (cut)
    with BuildSketch(Plane(origin=(120, 0, 0), x_dir=(0, 0, -1), z_dir=(1, 0, 0))):
        with Locations((-40.5, 48)):
            Circle(SKETCH35_R)
    extrude(amount=-CUT_EXTRUDE15_DEPTH, mode=Mode.SUBTRACT)

    # Sketch36 → Boss-Extrude20 (add)
    with BuildSketch(Plane.ZY.offset(-115)):
        with Locations((40.5, 35.5)):
            Rectangle(SKETCH36_W, SKETCH36_H)
    extrude(amount=BOSS_EXTRUDE20_DEPTH)


with BuildPart() as body_2:
    # Sketch7 → Boss-Extrude3 (new body)
    with BuildSketch(Plane(origin=(121, 0, 0), x_dir=(0, 0, -1), z_dir=(1, 0, 0))):
        with Locations((9.5, 44)):
            Rectangle(SKETCH7_W, SKETCH7_H)
    extrude(amount=-BOSS_EXTRUDE3_DEPTH)


solid = Compound([part.part, body_2.part])
